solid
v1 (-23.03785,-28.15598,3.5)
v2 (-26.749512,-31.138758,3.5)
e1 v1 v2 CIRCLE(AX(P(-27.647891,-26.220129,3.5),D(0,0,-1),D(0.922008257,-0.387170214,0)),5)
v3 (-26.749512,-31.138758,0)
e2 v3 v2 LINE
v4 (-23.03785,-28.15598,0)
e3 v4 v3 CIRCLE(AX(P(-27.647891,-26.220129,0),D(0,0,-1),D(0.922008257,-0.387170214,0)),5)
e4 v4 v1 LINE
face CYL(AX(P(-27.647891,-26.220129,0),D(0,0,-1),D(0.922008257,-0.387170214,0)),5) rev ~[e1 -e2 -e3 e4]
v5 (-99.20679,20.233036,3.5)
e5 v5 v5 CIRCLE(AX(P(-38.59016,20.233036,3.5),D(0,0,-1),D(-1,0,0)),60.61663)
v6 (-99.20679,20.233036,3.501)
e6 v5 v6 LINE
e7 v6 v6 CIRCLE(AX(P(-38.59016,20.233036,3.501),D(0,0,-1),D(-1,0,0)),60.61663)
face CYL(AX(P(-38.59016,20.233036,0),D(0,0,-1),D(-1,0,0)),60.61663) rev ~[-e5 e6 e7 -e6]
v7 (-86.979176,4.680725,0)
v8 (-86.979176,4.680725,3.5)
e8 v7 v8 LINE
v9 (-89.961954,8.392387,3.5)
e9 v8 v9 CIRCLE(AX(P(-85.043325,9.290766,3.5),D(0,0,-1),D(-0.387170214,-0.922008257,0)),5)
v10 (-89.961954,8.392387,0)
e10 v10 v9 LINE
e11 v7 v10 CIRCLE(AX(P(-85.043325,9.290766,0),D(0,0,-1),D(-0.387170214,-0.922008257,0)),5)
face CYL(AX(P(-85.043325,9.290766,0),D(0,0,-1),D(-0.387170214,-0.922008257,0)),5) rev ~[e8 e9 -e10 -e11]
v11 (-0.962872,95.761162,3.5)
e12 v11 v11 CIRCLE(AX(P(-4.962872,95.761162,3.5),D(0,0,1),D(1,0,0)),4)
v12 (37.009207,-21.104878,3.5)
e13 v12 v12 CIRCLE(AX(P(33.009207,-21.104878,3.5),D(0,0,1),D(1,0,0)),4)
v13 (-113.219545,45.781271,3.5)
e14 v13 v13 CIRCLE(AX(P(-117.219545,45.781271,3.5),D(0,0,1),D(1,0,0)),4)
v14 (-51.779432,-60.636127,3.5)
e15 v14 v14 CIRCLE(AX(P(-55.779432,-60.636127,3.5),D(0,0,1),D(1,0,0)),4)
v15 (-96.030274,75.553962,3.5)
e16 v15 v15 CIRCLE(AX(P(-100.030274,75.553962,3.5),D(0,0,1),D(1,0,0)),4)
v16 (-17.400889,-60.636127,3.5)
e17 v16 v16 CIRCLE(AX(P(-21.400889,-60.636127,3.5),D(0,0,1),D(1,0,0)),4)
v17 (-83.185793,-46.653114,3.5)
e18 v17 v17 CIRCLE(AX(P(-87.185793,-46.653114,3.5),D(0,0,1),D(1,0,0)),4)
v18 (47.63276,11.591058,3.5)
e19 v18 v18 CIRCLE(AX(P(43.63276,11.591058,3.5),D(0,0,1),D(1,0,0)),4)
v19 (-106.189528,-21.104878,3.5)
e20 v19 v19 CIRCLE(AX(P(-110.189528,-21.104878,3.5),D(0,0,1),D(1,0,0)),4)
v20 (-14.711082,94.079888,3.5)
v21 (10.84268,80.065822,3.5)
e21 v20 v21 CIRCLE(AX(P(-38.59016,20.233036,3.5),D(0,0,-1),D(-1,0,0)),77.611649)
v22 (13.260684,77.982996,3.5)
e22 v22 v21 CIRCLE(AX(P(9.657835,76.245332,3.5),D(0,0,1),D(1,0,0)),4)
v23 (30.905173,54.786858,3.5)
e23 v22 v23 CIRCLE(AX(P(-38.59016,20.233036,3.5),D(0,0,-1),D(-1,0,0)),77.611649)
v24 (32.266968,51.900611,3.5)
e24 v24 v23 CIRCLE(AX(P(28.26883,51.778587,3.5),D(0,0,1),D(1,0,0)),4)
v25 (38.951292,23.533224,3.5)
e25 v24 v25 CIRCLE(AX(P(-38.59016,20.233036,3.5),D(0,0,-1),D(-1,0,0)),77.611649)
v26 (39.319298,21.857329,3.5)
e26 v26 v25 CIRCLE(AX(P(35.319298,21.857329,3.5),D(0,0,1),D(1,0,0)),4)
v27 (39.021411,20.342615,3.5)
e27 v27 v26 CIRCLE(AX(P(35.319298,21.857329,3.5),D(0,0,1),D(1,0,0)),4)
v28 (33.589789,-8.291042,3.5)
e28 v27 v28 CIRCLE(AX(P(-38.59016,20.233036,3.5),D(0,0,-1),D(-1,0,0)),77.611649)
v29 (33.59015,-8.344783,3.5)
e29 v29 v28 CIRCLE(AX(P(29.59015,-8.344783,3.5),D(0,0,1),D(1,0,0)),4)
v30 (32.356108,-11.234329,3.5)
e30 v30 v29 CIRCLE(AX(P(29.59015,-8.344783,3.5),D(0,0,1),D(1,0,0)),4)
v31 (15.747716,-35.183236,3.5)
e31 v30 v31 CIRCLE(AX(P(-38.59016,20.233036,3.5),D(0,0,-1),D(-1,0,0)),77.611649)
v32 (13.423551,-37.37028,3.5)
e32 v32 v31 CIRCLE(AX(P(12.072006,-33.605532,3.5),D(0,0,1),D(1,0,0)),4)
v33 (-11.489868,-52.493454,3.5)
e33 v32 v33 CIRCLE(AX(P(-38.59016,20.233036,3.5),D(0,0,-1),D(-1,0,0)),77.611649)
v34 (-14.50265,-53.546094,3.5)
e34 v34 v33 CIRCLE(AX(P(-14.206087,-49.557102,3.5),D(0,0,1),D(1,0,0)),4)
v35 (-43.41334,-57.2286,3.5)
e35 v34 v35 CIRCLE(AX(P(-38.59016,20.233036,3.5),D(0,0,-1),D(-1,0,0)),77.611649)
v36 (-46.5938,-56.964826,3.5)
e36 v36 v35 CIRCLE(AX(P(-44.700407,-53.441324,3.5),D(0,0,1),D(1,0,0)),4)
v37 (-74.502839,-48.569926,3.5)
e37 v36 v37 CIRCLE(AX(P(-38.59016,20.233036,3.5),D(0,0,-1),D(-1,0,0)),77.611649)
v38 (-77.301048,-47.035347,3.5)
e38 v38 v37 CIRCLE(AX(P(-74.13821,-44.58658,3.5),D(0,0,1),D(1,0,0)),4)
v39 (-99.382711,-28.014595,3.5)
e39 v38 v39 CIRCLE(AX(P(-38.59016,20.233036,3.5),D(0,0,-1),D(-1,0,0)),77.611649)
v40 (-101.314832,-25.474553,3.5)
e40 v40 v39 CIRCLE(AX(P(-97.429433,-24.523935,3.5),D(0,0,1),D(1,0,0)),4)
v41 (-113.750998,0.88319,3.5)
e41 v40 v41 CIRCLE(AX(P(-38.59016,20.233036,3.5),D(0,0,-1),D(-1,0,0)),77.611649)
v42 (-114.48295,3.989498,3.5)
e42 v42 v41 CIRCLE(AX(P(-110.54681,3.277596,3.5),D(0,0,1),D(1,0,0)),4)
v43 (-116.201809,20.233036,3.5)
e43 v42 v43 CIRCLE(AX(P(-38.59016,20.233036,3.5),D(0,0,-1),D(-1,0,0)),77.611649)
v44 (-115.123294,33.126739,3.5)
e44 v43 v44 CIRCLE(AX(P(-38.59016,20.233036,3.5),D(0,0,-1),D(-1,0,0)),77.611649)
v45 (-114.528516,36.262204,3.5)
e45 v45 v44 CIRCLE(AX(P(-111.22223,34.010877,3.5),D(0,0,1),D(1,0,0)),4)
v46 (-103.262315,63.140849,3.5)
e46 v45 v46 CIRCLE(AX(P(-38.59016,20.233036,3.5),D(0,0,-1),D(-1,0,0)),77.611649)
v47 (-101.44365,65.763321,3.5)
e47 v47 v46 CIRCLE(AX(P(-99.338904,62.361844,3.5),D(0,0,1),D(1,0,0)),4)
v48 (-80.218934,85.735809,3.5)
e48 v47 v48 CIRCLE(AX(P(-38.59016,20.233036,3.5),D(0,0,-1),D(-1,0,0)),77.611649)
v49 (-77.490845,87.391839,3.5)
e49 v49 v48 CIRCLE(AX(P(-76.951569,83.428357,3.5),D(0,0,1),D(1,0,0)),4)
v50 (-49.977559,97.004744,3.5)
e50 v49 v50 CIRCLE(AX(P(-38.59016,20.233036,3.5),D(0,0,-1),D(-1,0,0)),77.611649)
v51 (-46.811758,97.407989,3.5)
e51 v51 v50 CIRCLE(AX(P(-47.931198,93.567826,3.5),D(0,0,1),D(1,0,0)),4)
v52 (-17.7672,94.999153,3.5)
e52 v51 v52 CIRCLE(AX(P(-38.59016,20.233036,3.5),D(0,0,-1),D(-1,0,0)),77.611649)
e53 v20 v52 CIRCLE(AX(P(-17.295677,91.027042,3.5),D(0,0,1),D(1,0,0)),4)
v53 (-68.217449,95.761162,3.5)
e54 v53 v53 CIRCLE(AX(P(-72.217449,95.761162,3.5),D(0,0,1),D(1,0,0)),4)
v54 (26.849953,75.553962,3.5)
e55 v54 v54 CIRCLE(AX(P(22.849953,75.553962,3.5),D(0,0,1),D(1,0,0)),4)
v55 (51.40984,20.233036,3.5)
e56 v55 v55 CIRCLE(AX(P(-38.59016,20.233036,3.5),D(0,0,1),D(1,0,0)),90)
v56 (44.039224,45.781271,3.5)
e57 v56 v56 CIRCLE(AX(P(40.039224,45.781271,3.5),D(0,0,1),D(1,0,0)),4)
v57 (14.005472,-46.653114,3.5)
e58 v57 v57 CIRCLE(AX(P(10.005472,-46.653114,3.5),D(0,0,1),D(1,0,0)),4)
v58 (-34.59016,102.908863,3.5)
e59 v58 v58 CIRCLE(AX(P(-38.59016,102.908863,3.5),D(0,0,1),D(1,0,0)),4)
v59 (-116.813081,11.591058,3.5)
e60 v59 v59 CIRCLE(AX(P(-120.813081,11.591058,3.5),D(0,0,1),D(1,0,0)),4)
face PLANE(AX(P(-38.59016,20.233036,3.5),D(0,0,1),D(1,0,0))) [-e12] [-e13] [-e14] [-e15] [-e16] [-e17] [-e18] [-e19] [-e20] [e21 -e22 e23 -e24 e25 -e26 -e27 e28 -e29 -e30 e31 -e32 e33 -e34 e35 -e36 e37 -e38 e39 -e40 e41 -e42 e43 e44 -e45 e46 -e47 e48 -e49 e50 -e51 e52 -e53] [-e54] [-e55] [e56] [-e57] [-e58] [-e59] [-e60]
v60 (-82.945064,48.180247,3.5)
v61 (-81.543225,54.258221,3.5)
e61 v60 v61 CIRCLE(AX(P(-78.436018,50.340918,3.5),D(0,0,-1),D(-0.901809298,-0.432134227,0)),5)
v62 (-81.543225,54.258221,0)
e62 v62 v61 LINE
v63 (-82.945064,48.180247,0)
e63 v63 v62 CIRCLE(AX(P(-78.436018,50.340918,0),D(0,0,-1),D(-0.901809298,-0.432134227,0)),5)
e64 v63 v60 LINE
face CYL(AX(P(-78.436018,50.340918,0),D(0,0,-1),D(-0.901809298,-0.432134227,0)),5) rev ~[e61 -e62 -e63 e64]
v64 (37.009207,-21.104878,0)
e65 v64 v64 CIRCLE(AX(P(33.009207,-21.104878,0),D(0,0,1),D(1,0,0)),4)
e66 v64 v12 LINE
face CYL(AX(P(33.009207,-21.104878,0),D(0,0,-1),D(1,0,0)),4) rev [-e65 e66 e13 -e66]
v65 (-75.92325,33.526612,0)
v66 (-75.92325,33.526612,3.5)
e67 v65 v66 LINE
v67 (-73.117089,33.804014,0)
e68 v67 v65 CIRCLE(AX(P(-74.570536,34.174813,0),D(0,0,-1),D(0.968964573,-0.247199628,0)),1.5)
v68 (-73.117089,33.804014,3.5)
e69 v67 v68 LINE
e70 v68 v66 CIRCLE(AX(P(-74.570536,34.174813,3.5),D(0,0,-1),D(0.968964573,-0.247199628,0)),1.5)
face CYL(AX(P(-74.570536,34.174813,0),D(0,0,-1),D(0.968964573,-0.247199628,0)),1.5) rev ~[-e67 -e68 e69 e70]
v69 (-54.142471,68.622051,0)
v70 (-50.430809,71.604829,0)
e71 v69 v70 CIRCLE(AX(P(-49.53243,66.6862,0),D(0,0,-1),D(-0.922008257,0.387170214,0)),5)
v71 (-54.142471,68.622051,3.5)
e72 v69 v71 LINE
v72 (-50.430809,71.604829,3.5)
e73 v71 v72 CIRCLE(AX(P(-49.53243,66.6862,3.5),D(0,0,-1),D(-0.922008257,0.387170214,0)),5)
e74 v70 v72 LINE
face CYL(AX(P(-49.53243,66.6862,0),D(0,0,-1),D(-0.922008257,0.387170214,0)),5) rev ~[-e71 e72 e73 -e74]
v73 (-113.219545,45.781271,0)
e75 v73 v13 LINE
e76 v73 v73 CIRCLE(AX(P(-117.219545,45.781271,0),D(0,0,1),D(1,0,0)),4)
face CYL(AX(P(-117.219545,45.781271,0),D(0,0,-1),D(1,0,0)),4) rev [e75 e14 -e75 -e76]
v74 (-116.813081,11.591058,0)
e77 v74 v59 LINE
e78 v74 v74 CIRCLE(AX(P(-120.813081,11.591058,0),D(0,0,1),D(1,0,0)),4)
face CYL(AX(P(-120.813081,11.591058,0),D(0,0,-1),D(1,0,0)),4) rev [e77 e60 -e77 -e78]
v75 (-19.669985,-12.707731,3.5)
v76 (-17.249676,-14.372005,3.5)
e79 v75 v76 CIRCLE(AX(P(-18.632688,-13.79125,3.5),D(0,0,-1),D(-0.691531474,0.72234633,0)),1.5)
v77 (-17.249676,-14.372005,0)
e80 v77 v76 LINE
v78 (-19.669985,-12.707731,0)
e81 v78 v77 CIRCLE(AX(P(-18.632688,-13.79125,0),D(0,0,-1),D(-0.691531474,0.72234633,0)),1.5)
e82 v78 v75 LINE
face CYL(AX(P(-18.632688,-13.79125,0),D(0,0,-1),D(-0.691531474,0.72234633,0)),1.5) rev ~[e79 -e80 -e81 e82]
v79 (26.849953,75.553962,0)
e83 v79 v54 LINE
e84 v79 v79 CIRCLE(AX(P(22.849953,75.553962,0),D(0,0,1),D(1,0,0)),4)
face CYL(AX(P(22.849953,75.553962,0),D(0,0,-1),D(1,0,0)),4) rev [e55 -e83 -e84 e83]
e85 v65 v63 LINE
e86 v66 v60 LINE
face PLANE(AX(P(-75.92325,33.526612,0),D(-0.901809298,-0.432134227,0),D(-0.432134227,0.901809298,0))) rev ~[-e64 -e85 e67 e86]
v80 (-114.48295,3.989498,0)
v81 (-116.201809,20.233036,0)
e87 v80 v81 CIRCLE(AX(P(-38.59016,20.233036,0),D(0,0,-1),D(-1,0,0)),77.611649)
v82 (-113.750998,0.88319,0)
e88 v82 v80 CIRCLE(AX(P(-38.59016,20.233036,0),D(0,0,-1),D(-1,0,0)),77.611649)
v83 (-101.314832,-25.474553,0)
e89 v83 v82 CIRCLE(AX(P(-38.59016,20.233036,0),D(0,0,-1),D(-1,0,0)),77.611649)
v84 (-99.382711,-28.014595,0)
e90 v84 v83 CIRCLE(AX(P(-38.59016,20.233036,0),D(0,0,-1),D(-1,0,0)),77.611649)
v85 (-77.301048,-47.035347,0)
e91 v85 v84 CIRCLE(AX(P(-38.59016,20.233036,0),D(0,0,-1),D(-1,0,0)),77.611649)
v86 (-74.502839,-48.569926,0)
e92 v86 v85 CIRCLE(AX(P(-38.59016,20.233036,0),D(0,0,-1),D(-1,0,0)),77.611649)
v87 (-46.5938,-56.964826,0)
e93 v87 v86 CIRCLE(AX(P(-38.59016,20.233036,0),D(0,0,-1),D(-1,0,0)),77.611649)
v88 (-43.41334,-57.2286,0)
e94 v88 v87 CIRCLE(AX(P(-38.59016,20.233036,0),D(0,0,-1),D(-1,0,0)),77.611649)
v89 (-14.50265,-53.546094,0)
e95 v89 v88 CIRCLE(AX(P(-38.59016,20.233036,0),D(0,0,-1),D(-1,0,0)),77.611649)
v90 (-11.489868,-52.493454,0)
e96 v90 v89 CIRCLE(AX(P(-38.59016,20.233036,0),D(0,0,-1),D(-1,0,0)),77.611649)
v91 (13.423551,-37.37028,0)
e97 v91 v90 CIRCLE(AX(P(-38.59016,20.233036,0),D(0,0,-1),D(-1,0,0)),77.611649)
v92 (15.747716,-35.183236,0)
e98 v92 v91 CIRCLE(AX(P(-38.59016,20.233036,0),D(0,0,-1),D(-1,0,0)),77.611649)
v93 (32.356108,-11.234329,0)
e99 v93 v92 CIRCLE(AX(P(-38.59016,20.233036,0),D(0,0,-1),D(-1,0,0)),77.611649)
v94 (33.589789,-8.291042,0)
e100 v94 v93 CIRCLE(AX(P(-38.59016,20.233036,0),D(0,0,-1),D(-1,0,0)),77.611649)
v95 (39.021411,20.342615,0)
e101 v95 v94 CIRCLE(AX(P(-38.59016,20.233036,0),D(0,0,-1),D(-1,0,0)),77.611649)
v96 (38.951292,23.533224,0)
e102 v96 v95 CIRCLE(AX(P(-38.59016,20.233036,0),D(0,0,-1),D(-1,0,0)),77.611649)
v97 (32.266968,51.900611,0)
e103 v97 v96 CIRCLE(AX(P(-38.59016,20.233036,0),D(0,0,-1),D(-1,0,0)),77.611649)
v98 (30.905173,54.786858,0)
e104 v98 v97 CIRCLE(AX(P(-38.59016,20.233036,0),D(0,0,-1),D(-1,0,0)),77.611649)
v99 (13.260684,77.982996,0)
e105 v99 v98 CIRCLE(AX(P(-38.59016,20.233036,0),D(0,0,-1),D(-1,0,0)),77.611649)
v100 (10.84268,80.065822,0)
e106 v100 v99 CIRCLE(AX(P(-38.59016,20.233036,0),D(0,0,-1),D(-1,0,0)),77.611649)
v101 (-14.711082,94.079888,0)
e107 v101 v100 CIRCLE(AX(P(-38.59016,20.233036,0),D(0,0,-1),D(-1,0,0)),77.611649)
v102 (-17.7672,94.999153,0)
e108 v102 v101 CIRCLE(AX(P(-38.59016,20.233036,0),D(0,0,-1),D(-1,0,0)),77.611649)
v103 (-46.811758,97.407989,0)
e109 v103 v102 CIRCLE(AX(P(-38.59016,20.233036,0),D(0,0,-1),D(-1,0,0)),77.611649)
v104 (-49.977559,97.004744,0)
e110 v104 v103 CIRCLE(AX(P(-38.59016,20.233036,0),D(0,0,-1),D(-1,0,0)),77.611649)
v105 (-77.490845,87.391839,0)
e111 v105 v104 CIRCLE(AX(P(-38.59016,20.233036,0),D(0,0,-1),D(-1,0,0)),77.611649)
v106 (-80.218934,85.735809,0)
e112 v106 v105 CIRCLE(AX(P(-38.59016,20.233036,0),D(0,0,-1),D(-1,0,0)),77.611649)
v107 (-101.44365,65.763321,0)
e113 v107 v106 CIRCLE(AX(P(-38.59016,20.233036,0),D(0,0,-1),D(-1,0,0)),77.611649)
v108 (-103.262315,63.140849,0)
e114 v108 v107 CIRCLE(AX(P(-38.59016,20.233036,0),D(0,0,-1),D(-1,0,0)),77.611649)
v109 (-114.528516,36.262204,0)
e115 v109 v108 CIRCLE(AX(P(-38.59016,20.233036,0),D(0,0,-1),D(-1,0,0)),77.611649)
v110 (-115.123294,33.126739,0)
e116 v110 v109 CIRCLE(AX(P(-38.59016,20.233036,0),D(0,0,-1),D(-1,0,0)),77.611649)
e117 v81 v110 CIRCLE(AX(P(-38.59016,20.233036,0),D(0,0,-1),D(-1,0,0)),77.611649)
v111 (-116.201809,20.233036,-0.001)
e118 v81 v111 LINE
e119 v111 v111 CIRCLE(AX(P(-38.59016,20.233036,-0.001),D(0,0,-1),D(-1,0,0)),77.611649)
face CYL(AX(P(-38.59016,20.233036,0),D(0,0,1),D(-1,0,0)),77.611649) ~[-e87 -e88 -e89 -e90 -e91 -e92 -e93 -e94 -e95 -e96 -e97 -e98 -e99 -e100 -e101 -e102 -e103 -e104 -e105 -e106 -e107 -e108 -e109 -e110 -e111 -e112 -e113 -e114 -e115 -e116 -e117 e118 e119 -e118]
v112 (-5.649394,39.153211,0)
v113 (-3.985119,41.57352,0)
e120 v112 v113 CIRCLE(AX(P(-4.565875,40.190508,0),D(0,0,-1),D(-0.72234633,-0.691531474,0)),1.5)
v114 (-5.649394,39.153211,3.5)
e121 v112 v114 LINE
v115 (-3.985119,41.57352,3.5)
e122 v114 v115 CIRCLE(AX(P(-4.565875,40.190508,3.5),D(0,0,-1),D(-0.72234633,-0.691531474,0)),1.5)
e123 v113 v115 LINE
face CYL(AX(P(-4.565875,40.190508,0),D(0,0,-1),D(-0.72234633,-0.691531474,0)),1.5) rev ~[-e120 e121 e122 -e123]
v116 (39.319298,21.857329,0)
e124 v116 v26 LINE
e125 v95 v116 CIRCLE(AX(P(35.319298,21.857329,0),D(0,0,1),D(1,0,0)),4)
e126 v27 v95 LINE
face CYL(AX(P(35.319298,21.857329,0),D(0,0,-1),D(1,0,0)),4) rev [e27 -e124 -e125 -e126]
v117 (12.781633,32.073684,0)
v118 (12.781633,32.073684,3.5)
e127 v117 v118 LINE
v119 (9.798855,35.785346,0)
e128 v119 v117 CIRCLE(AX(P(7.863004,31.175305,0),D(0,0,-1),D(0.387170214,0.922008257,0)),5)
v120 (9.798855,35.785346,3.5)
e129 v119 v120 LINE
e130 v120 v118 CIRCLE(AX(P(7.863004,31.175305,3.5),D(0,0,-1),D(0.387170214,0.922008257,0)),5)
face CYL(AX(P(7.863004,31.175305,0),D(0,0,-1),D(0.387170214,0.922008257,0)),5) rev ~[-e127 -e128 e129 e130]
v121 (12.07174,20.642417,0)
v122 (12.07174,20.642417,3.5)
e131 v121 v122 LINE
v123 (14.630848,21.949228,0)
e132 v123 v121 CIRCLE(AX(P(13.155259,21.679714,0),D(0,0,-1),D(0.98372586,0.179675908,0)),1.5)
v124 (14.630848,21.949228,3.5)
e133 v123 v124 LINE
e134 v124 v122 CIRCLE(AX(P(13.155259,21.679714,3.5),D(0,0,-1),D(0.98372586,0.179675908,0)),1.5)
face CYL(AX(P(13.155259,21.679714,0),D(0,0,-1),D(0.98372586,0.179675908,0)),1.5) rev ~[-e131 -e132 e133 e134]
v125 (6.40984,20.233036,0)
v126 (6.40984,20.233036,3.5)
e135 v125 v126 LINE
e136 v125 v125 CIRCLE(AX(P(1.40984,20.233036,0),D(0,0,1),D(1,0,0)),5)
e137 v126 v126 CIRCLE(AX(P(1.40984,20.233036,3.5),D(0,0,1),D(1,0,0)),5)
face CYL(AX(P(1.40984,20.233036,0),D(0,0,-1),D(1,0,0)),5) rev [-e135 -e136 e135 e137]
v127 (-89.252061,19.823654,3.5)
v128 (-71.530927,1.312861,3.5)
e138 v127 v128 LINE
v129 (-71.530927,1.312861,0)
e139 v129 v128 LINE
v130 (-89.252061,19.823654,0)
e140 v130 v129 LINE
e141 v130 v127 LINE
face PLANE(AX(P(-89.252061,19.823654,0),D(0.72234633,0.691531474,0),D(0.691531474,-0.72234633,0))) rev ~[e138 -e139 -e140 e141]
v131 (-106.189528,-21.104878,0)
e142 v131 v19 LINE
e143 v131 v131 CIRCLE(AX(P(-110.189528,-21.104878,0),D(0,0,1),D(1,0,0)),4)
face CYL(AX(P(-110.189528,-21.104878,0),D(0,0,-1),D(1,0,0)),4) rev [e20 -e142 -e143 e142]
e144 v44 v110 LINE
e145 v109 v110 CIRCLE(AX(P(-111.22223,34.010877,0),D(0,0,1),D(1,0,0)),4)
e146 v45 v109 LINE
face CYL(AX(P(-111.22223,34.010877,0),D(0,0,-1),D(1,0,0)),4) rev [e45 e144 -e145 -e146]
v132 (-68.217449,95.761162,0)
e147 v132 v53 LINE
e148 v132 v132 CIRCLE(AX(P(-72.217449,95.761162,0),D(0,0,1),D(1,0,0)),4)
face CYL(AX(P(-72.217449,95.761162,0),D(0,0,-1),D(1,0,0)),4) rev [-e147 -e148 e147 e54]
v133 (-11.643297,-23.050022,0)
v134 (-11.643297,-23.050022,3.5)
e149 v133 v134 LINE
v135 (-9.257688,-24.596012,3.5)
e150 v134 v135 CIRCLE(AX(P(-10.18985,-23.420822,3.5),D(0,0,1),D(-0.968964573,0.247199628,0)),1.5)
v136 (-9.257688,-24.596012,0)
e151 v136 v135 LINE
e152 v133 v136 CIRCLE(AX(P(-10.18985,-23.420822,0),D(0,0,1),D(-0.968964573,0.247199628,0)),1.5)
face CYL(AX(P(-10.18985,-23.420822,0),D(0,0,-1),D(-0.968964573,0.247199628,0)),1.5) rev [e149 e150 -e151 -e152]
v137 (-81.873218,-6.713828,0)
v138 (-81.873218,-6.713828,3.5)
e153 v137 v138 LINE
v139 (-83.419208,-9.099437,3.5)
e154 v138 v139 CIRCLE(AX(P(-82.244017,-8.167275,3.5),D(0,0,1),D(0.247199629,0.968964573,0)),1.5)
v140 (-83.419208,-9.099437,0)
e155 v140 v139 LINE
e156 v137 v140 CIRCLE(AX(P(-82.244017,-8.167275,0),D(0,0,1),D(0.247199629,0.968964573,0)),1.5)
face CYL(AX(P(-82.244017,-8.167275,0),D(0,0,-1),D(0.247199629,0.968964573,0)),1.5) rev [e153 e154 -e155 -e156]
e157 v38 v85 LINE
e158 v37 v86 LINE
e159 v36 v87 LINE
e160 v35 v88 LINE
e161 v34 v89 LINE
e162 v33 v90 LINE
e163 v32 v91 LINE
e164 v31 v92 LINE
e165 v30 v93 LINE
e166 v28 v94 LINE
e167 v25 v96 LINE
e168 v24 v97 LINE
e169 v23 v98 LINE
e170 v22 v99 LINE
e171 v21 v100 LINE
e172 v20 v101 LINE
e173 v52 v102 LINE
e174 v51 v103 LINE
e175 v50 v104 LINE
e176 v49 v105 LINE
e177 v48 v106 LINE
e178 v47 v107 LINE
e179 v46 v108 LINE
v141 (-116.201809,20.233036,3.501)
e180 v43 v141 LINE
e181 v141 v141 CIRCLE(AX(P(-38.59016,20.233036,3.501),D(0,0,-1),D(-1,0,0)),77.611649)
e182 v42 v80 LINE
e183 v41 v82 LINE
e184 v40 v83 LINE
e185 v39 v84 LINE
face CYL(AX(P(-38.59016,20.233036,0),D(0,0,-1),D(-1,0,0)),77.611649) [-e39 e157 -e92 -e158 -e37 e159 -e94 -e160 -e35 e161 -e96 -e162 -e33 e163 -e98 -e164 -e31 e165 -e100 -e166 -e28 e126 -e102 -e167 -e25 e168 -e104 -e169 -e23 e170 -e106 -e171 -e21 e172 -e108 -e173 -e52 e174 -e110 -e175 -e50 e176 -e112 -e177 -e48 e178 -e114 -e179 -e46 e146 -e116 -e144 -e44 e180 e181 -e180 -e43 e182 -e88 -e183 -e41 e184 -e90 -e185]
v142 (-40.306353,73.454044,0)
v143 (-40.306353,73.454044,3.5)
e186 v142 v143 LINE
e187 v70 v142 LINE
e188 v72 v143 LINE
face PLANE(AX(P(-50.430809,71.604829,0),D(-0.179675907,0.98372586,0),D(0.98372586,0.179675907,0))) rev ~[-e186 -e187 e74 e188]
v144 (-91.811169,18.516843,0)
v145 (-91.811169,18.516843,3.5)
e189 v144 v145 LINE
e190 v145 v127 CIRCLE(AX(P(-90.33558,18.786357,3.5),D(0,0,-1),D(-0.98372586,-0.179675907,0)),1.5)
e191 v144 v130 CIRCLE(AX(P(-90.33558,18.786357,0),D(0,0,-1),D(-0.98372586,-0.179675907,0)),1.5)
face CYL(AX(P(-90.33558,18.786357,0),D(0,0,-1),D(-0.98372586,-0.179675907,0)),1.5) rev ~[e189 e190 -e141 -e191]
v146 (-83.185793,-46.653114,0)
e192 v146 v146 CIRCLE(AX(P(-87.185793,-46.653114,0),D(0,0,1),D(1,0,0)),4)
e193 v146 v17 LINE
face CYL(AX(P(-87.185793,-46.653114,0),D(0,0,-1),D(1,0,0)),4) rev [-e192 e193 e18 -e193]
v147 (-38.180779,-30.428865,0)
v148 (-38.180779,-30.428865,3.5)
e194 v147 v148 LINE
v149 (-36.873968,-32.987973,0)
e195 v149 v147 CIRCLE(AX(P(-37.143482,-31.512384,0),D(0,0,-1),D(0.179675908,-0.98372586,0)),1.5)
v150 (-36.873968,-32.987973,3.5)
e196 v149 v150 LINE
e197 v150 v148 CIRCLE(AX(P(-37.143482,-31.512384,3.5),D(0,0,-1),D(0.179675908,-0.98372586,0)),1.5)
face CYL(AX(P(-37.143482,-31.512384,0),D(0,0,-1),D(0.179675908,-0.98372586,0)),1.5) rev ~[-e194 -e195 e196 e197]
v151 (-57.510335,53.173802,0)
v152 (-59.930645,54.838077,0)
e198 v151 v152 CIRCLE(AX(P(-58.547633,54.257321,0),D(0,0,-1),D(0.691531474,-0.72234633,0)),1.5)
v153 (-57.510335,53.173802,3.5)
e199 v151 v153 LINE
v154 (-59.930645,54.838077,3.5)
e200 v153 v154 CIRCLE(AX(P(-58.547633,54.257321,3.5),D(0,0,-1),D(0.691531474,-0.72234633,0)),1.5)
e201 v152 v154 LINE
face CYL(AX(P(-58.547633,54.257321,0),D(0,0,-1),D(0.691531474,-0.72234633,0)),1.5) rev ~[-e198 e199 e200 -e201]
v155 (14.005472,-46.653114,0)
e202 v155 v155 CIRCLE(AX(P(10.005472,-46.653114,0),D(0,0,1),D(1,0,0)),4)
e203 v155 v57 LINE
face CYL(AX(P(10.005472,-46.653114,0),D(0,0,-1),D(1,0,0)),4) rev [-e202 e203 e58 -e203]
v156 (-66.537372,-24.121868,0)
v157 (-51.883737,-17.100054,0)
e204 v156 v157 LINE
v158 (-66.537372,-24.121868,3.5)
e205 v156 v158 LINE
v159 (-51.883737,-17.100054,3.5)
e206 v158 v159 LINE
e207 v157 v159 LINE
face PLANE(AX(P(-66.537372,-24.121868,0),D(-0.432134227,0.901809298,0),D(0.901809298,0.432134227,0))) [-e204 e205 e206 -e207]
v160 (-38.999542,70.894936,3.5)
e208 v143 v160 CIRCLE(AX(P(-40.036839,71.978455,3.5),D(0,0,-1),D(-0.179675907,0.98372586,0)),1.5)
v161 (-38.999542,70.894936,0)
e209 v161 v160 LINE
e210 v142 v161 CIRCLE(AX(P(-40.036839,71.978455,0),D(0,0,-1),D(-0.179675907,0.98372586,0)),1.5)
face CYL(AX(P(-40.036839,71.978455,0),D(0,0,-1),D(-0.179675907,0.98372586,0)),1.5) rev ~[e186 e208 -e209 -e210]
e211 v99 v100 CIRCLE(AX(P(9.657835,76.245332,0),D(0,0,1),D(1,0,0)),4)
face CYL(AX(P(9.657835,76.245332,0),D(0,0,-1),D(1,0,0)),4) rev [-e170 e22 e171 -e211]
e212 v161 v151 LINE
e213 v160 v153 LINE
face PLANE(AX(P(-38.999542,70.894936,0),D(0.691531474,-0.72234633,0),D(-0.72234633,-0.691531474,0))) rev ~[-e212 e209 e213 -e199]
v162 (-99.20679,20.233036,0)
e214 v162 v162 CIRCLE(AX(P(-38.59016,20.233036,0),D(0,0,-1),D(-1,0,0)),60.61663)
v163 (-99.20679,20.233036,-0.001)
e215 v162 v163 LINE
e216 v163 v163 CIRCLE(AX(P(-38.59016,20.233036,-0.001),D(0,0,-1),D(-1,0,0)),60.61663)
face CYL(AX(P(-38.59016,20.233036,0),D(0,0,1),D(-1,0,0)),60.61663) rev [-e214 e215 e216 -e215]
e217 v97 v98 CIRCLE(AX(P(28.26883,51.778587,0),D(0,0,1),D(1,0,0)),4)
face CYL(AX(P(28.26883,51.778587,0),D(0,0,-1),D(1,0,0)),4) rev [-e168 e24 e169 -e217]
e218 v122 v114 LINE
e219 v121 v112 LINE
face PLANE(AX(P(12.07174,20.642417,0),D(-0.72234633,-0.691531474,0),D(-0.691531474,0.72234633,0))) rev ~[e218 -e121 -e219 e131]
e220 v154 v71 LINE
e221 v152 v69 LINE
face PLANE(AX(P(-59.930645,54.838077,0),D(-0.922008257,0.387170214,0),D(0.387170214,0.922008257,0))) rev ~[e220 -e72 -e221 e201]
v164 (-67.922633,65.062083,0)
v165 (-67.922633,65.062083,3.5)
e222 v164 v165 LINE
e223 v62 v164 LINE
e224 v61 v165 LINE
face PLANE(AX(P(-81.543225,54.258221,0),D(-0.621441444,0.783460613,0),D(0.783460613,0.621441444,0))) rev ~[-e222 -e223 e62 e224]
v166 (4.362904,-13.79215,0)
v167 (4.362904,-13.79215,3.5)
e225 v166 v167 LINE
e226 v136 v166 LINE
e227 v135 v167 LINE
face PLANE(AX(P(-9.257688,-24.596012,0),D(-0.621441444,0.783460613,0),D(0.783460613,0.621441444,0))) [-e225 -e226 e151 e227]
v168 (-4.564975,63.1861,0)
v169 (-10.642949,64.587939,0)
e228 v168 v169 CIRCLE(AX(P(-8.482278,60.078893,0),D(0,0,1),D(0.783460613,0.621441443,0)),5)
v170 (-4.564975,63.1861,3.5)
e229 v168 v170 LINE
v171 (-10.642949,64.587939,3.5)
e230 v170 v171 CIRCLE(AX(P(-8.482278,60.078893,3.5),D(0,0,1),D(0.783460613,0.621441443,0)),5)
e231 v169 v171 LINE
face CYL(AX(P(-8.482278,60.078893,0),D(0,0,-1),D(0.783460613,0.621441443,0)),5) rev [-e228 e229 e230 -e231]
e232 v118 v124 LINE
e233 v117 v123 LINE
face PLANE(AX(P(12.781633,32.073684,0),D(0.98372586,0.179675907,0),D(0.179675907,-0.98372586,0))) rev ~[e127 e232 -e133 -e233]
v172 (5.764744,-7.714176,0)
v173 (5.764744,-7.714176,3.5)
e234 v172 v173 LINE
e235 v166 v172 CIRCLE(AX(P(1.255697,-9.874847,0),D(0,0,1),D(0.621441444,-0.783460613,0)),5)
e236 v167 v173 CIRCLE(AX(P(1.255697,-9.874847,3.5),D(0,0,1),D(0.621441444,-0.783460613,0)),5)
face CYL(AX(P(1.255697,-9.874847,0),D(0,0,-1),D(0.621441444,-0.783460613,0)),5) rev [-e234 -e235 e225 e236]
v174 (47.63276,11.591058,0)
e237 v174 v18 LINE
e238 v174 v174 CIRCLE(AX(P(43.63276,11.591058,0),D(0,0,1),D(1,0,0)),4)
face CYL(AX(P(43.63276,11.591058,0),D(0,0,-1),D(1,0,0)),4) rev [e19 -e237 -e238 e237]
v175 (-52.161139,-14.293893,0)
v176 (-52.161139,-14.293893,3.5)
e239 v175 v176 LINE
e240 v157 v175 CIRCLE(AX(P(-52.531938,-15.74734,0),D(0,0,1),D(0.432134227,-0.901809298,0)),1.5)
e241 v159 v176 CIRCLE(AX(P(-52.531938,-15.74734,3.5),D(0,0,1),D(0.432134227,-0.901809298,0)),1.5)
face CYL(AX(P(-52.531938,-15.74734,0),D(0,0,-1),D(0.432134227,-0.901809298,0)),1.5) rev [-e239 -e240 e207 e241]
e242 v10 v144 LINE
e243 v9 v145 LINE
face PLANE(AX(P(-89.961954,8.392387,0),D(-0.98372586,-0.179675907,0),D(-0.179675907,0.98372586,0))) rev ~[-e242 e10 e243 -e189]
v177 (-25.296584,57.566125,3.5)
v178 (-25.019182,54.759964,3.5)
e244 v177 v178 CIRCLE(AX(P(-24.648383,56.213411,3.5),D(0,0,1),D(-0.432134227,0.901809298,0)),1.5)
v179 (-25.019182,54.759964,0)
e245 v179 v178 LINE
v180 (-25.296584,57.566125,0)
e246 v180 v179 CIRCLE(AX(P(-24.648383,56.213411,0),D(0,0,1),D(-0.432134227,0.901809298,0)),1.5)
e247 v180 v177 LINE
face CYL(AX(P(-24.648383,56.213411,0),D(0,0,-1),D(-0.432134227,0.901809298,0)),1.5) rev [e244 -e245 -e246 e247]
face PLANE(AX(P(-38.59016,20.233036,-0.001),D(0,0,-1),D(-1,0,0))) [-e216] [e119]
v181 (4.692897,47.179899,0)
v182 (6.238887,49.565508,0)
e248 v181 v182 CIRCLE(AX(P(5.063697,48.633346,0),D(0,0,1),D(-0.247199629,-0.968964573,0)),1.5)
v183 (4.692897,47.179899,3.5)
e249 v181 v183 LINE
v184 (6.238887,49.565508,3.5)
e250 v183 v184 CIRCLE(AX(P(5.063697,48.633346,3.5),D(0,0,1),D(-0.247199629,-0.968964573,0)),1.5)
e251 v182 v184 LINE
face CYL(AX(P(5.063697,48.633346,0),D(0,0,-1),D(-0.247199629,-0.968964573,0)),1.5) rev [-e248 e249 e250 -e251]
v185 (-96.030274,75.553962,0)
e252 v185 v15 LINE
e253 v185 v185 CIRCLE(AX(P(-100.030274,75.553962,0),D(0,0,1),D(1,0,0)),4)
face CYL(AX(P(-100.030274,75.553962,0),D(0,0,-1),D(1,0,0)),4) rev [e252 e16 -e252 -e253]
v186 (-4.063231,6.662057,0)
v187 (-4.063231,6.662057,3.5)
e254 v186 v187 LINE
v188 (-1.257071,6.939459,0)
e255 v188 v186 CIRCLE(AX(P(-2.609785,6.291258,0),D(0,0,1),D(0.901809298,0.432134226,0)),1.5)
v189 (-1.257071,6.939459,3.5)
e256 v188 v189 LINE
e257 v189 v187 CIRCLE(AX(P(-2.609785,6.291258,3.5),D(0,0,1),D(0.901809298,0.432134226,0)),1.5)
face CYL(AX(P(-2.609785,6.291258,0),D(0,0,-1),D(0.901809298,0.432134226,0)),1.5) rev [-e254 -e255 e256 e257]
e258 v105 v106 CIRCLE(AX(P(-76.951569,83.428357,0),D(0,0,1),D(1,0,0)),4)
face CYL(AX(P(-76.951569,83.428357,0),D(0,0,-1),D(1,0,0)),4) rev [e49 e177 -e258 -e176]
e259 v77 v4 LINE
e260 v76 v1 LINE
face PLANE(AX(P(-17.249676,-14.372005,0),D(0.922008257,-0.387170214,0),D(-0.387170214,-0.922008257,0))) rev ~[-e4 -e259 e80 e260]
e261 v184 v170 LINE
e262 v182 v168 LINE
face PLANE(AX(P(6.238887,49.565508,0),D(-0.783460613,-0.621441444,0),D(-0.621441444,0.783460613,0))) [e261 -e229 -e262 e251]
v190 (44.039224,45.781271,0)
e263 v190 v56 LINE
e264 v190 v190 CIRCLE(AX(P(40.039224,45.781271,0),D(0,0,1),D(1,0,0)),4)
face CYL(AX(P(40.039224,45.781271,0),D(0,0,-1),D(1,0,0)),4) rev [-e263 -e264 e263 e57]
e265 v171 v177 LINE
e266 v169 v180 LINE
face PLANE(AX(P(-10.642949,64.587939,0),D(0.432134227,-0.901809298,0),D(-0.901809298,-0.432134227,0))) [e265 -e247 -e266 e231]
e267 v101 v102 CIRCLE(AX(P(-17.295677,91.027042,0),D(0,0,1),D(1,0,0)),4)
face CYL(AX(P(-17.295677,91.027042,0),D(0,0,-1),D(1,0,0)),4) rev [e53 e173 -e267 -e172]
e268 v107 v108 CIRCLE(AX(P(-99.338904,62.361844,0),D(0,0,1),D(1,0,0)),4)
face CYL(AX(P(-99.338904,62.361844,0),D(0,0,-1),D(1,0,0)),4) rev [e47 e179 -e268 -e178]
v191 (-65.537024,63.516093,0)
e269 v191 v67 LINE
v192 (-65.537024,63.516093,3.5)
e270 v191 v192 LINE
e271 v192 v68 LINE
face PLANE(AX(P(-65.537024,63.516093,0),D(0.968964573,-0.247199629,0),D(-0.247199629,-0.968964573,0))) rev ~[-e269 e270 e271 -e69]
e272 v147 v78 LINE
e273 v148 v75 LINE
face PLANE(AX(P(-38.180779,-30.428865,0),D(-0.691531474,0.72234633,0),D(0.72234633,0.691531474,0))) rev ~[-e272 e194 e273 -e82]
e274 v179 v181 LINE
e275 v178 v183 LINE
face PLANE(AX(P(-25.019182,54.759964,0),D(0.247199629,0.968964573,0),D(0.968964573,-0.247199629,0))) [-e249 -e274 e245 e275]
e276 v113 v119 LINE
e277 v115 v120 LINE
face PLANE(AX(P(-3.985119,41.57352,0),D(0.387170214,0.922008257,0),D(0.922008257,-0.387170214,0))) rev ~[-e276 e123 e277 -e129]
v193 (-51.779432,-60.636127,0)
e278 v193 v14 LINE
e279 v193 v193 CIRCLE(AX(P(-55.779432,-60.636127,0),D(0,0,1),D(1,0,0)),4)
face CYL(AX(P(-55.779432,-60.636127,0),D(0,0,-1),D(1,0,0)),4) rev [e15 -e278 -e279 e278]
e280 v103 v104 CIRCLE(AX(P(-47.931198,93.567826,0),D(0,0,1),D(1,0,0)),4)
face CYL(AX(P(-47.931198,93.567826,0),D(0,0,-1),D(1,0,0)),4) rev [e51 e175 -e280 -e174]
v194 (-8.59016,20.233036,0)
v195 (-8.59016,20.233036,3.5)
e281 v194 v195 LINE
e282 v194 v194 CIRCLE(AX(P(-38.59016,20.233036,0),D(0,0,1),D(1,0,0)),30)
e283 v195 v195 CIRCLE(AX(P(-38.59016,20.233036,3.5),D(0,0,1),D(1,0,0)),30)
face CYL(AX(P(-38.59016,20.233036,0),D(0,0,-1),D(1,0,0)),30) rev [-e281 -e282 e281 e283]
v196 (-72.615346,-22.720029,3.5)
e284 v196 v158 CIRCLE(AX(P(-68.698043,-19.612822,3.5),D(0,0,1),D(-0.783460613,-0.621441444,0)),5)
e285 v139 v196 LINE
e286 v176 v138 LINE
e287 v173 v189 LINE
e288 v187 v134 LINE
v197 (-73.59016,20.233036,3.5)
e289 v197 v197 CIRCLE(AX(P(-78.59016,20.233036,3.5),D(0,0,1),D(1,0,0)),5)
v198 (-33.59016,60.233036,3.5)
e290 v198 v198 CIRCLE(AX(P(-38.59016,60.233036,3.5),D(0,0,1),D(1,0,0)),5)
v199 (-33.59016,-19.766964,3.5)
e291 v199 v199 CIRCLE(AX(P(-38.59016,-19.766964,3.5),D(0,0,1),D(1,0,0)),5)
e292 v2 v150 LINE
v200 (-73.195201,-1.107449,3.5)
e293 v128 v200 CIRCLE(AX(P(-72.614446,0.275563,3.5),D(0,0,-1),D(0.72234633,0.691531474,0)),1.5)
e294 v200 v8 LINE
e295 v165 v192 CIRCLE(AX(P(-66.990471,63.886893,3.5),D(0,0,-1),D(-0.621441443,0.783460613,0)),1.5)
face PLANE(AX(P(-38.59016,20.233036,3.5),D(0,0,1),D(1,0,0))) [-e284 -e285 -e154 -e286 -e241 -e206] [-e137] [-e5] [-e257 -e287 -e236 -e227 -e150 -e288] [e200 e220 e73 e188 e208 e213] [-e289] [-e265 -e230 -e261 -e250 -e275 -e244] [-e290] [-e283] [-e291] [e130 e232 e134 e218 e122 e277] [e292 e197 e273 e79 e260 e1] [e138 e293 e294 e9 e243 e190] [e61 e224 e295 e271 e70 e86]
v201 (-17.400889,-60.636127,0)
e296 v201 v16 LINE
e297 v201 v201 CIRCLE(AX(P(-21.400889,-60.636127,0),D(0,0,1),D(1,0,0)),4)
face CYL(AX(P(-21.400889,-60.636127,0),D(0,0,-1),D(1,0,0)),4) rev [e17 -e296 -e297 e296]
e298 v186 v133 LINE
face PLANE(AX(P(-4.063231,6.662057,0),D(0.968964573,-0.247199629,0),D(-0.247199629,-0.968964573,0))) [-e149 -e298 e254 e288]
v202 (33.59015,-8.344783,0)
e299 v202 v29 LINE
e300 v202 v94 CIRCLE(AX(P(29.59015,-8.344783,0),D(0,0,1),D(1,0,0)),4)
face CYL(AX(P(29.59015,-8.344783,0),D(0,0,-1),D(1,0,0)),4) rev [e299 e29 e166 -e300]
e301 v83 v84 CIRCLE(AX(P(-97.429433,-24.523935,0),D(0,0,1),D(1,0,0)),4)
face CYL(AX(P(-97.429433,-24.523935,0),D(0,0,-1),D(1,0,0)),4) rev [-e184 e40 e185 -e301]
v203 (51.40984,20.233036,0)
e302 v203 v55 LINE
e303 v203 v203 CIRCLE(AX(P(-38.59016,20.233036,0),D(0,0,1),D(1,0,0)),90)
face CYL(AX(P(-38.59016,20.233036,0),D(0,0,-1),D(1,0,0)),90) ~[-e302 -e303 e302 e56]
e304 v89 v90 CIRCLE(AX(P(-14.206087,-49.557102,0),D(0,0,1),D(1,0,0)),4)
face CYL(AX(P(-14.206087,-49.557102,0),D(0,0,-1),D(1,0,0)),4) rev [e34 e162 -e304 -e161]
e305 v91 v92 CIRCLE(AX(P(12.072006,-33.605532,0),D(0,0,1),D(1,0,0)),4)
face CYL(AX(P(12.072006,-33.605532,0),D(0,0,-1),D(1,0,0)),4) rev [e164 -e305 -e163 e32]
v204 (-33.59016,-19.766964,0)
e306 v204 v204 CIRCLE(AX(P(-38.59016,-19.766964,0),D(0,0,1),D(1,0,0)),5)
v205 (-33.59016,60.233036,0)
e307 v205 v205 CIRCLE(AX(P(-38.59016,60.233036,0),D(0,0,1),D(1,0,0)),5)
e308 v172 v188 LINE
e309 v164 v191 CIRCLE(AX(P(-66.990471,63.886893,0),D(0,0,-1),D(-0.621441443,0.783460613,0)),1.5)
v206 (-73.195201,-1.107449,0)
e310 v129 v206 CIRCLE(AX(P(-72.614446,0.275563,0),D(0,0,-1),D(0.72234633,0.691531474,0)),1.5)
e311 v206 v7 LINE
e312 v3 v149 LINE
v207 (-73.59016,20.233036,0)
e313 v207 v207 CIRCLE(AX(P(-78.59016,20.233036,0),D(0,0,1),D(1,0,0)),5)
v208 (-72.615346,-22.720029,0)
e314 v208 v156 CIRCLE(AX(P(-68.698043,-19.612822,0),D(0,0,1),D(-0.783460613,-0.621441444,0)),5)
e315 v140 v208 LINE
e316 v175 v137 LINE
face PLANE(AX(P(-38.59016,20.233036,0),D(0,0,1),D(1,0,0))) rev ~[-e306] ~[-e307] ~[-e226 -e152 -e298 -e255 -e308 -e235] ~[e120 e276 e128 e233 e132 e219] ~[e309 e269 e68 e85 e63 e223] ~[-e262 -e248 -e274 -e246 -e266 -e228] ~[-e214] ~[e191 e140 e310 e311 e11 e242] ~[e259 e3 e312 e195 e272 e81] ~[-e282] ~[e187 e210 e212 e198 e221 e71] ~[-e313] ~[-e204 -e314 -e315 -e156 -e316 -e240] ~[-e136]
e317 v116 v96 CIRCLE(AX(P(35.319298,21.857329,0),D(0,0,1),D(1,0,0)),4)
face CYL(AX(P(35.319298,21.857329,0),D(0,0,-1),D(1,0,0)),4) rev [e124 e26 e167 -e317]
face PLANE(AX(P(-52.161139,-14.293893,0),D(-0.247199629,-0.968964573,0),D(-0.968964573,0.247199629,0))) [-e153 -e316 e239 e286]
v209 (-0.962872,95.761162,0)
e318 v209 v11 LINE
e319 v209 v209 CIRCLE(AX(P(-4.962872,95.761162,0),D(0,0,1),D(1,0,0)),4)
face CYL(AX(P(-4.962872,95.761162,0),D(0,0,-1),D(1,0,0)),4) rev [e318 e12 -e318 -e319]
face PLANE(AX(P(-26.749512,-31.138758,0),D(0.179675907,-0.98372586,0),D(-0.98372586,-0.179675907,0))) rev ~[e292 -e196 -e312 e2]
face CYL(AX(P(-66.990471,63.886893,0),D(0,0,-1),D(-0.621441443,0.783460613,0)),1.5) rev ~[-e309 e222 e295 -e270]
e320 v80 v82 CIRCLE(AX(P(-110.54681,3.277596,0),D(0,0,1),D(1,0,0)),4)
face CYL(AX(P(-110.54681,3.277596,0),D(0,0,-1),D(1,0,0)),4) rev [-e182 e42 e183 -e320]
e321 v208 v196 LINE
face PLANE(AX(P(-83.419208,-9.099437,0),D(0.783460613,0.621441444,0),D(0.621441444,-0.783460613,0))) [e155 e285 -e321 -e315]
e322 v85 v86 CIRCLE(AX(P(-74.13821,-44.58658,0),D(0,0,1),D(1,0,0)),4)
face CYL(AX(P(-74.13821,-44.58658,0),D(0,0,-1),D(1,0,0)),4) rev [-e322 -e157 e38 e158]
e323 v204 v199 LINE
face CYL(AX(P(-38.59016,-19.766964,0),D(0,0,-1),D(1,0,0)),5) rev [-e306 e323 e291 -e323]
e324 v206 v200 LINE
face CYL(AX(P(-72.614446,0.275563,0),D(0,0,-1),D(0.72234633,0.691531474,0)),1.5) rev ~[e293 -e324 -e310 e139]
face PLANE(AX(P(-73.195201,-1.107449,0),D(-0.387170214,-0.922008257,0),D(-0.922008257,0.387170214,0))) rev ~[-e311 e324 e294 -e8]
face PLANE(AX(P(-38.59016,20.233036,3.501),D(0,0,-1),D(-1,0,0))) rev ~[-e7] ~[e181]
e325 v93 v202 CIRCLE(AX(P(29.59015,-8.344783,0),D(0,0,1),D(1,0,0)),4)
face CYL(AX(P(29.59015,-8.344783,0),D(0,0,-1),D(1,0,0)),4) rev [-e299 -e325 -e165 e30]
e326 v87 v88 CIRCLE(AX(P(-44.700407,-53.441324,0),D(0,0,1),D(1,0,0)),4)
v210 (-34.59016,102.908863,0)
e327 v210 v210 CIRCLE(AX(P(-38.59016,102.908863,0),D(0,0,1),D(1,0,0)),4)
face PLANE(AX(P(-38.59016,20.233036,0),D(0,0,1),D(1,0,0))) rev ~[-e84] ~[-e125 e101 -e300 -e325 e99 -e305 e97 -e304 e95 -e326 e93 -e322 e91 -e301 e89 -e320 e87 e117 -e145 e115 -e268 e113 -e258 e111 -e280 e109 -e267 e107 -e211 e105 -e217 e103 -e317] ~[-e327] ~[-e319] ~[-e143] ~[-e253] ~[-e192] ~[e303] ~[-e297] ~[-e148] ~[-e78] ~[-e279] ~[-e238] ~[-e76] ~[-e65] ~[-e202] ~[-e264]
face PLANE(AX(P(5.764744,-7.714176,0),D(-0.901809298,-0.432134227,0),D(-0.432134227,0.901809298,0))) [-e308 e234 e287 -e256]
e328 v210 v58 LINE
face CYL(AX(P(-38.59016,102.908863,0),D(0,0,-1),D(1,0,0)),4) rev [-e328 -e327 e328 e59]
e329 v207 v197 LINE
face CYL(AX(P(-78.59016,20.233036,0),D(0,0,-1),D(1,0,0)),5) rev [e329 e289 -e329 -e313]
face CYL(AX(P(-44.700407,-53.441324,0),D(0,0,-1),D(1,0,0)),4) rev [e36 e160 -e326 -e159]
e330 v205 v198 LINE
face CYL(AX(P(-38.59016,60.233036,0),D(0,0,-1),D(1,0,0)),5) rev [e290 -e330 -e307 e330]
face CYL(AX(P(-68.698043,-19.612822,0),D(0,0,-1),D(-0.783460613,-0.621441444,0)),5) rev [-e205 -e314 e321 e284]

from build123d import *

# Parameters (mm, degrees)
SKETCH1_R                = 90
SKETCH1_R_2              = 30
SKETCH1_R_3              = 5
SKETCH1_R_4              = 4
SKETCH1_R_5              = 4.163878313
BOSS_EXTRUDE1_DEPTH      = 3.5
SKETCH3_R                = 77.611648898
SKETCH3_R_2              = 60.616629638
BOSS_EXTRUDE2_DEPTH      = 0.001
BOSS_EXTRUDE2_DEPTH_BACK = 3.501


with BuildPart() as part:
    # Sketch1 → Boss-Extrude1 (new body)
    with BuildSketch(Plane.XY):
        with Locations((-38.590160458, 20.233035518)):
            Circle(SKETCH1_R)
        with Locations((-38.590160458, 20.233035518)):
            Circle(SKETCH1_R_2, mode=Mode.SUBTRACT)
        with Locations((-38.590160458, 60.233035518)):
            Circle(SKETCH1_R_3, mode=Mode.SUBTRACT)
        with Locations((-78.590160458, 20.233035518)):
            Circle(SKETCH1_R_3, mode=Mode.SUBTRACT)
        with Locations((-38.590160458, -19.766964482)):
            Circle(SKETCH1_R_3, mode=Mode.SUBTRACT)
        with Locations((1.409839542, 20.233035518)):
            Circle(SKETCH1_R_3, mode=Mode.SUBTRACT)
        with Locations((-38.590160458, 102.908863271)):
            Circle(SKETCH1_R_4, mode=Mode.SUBTRACT)
        with Locations((-57.272235988, 84.226787741)):
            Circle(SKETCH1_R_5, mode=Mode.SUBTRACT)
        with Locations((-47.931198223, 93.567825506)):
            Circle(SKETCH1_R_4, mode=Mode.SUBTRACT)
        with Locations((-29.628481741, 86.292921865)):
            Circle(SKETCH1_R_5, mode=Mode.SUBTRACT)
        with Locations((-17.295676778, 91.027042142)):
            Circle(SKETCH1_R_4, mode=Mode.SUBTRACT)
        with Locations((-4.962871814, 95.761162419)):
            Circle(SKETCH1_R_4, mode=Mode.SUBTRACT)
        with Locations((-3.534283159, 76.936701505)):
            Circle(SKETCH1_R_5, mode=Mode.SUBTRACT)
        with Locations((9.657834985, 76.24533189)):
            Circle(SKETCH1_R_4, mode=Mode.SUBTRACT)
        with Locations((22.849953128, 75.553962274)):
            Circle(SKETCH1_R_4, mode=Mode.SUBTRACT)
        with Locations((16.498435766, 57.77590216)):
            Circle(SKETCH1_R_5, mode=Mode.SUBTRACT)
        with Locations((28.268830016, 51.778586739)):
            Circle(SKETCH1_R_4, mode=Mode.SUBTRACT)
        with Locations((40.039224266, 45.781271318)):
            Circle(SKETCH1_R_4, mode=Mode.SUBTRACT)
        with Locations((27.00583594, 32.123600105)):
            Circle(SKETCH1_R_5, mode=Mode.SUBTRACT)
        with Locations((35.3192982, 21.857329199)):
            Circle(SKETCH1_R_4, mode=Mode.SUBTRACT)
        with Locations((43.63276046, 11.591058294)):
            Circle(SKETCH1_R_4, mode=Mode.SUBTRACT)
        with Locations((26.171092415, 4.415311411)):
            Circle(SKETCH1_R_5, mode=Mode.SUBTRACT)
        with Locations((29.590149535, -8.344783474)):
            Circle(SKETCH1_R_4, mode=Mode.SUBTRACT)
        with Locations((33.009206655, -21.104878358)):
            Circle(SKETCH1_R_4, mode=Mode.SUBTRACT)
        with Locations((14.138539931, -20.557949085)):
            Circle(SKETCH1_R_5, mode=Mode.SUBTRACT)
        with Locations((12.072005874, -33.605531622)):
            Circle(SKETCH1_R_4, mode=Mode.SUBTRACT)
        with Locations((10.005471816, -46.653114158)):
            Circle(SKETCH1_R_4, mode=Mode.SUBTRACT)
        with Locations((-7.011283875, -38.478077769)):
            Circle(SKETCH1_R_5, mode=Mode.SUBTRACT)
        with Locations((-14.206086598, -49.557102403)):
            Circle(SKETCH1_R_4, mode=Mode.SUBTRACT)
        with Locations((-21.40088932, -60.636127037)):
            Circle(SKETCH1_R_4, mode=Mode.SUBTRACT)
        with Locations((-33.621382328, -46.246521592)):
            Circle(SKETCH1_R_5, mode=Mode.SUBTRACT)
        with Locations((-44.700406962, -53.441324315)):
            Circle(SKETCH1_R_4, mode=Mode.SUBTRACT)
        with Locations((-55.779431596, -60.636127037)):
            Circle(SKETCH1_R_4, mode=Mode.SUBTRACT)
        with Locations((-61.090627659, -42.520046043)):
            Circle(SKETCH1_R_5, mode=Mode.SUBTRACT)
        with Locations((-74.138210196, -44.5865801)):
            Circle(SKETCH1_R_4, mode=Mode.SUBTRACT)
        with Locations((-87.185792732, -46.653114158)):
            Circle(SKETCH1_R_4, mode=Mode.SUBTRACT)
        with Locations((-84.669337801, -27.942992598)):
            Circle(SKETCH1_R_5, mode=Mode.SUBTRACT)
        with Locations((-97.429432686, -24.523935478)):
            Circle(SKETCH1_R_4, mode=Mode.SUBTRACT)
        with Locations((-110.189527571, -21.104878358)):
            Circle(SKETCH1_R_4, mode=Mode.SUBTRACT)
        with Locations((-100.280539565, -5.035866226)):
            Circle(SKETCH1_R_5, mode=Mode.SUBTRACT)
        with Locations((-110.54681047, 3.277596034)):
            Circle(SKETCH1_R_4, mode=Mode.SUBTRACT)
        with Locations((-120.813081376, 11.591058294)):
            Circle(SKETCH1_R_4, mode=Mode.SUBTRACT)
        with Locations((-105.224914341, 22.240482818)):
            Circle(SKETCH1_R_5, mode=Mode.SUBTRACT)
        with Locations((-111.222229762, 34.010877068)):
            Circle(SKETCH1_R_4, mode=Mode.SUBTRACT)
        with Locations((-117.219545183, 45.781271318)):
            Circle(SKETCH1_R_4, mode=Mode.SUBTRACT)
        with Locations((-98.647534813, 49.169725987)):
            Circle(SKETCH1_R_5, mode=Mode.SUBTRACT)
        with Locations((-99.338904429, 62.36184413)):
            Circle(SKETCH1_R_4, mode=Mode.SUBTRACT)
        with Locations((-100.030274045, 75.553962274)):
            Circle(SKETCH1_R_4, mode=Mode.SUBTRACT)
        with Locations((-81.685689655, 71.095552492)):
            Circle(SKETCH1_R_5, mode=Mode.SUBTRACT)
        with Locations((-76.951569379, 83.428357455)):
            Circle(SKETCH1_R_4, mode=Mode.SUBTRACT)
        with Locations((-72.217449102, 95.761162419)):
            Circle(SKETCH1_R_4, mode=Mode.SUBTRACT)
        with BuildLine():
            Line((-75.923250233, 33.526611773), (-82.945064437, 48.18024702))
            ThreePointArc((-82.945064437, 48.18024702), (-83.308109154, 51.464629536), (-81.543225165, 54.258221219))
            Line((-81.543225165, 54.258221219), (-67.922632883, 65.062083457))
            ThreePointArc((-67.922632883, 65.062083457), (-66.174715863, 65.145679261), (-65.537023858, 63.516093095))
            Line((-65.537023858, 63.516093095), (-73.117089427, 33.80401367))
            ThreePointArc((-73.117089427, 33.80401367), (-74.422973645, 32.682089003), (-75.923250233, 33.526611773))
        make_face(mode=Mode.SUBTRACT)
        with BuildLine():
            Line((-25.019182306, 54.759964487), (4.692897118, 47.179898918))
            ThreePointArc((4.692897118, 47.179898918), (6.322483285, 47.817590922), (6.238887481, 49.565507943))
            Line((6.238887481, 49.565507943), (-4.564974758, 63.186100225))
            ThreePointArc((-4.564974758, 63.186100225), (-7.35856644, 64.950984214), (-10.642948957, 64.587939497))
            Line((-10.642948957, 64.587939497), (-25.296584204, 57.566125293))
            ThreePointArc((-25.296584204, 57.566125293), (-26.141106973, 56.065848705), (-25.019182306, 54.759964487))
        make_face(mode=Mode.SUBTRACT)
        with BuildLine():
            Line((-4.06323149, 6.662057366), (-11.643297059, -23.050022058))
            ThreePointArc((-11.643297059, -23.050022058), (-11.005605054, -24.679608225), (-9.257688034, -24.596012421))
            Line((-9.257688034, -24.596012421), (4.362904249, -13.792150183))
            ThreePointArc((4.362904249, -13.792150183), (6.127788237, -10.9985585), (5.764743521, -7.714175984))
            Line((5.764743521, -7.714175984), (-1.257070683, 6.939459263))
            ThreePointArc((-1.257070683, 6.939459263), (-2.757347272, 7.783982033), (-4.06323149, 6.662057366))
        make_face(mode=Mode.SUBTRACT)
        with BuildLine():
            Line((-52.16113861, -14.29389345), (-81.873218035, -6.713827882))
            ThreePointArc((-81.873218035, -6.713827882), (-83.502804202, -7.351519886), (-83.419208397, -9.099436907))
            Line((-83.419208397, -9.099436907), (-72.615346159, -22.720029189))
            ThreePointArc((-72.615346159, -22.720029189), (-69.821754476, -24.484913178), (-66.53737196, -24.121868461))
            Line((-66.53737196, -24.121868461), (-51.883736713, -17.100054257))
            ThreePointArc((-51.883736713, -17.100054257), (-51.039213944, -15.599777669), (-52.16113861, -14.29389345))
        make_face(mode=Mode.SUBTRACT)
        with BuildLine():
            Line((-50.430809264, 71.604828983), (-40.306353074, 73.454044222))
            ThreePointArc((-40.306353074, 73.454044222), (-38.700938161, 72.66063457), (-38.999542003, 70.894935936))
            Line((-38.999542003, 70.894935936), (-57.510335459, 53.1738017))
            ThreePointArc((-57.510335459, 53.1738017), (-59.397534082, 53.021332689), (-59.930645054, 54.838076517))
            Line((-59.930645054, 54.838076517), (-54.14247101, 68.622050752))
            ThreePointArc((-54.14247101, 68.622050752), (-52.664508346, 70.58364545), (-50.430809264, 71.604828983))
        make_face(mode=Mode.SUBTRACT)
        with BuildLine():
            Line((12.781633006, 32.073684324), (14.630848245, 21.949228134))
            ThreePointArc((14.630848245, 21.949228134), (13.837438594, 20.34381322), (12.07173996, 20.642417062))
            Line((12.07173996, 20.642417062), (-5.649394276, 39.153210519))
            ThreePointArc((-5.649394276, 39.153210519), (-5.801863288, 41.040409142), (-3.98511946, 41.573520114))
            Line((-3.98511946, 41.573520114), (9.798854776, 35.78534607))
            ThreePointArc((9.798854776, 35.78534607), (11.760449474, 34.307383406), (12.781633006, 32.073684324))
        make_face(mode=Mode.SUBTRACT)
        with BuildLine():
            Line((-26.749511652, -31.138757947), (-36.873967842, -32.987973185))
            ThreePointArc((-36.873967842, -32.987973185), (-38.479382756, -32.194563534), (-38.180778914, -30.4288649))
            Line((-38.180778914, -30.4288649), (-19.669985458, -12.707730664))
            ThreePointArc((-19.669985458, -12.707730664), (-17.782786834, -12.555261653), (-17.249675862, -14.372005481))
            Line((-17.249675862, -14.372005481), (-23.037849906, -28.155979716))
            ThreePointArc((-23.037849906, -28.155979716), (-24.51581257, -30.117574414), (-26.749511652, -31.138757947))
        make_face(mode=Mode.SUBTRACT)
        with BuildLine():
            Line((-89.961953923, 8.392386712), (-91.811169162, 18.516842902))
            ThreePointArc((-91.811169162, 18.516842902), (-91.01775951, 20.122257816), (-89.252060876, 19.823653974))
            Line((-89.252060876, 19.823653974), (-71.53092664, 1.312860518))
            ThreePointArc((-71.53092664, 1.312860518), (-71.378457629, -0.574338106), (-73.195201457, -1.107449078))
            Line((-73.195201457, -1.107449078), (-86.979175693, 4.680724966))
            ThreePointArc((-86.979175693, 4.680724966), (-88.940770391, 6.15868763), (-89.961953923, 8.392386712))
        make_face(mode=Mode.SUBTRACT)
    extrude(amount=BOSS_EXTRUDE1_DEPTH)

    # Sketch3 → Boss-Extrude2 (add, two sides)
    with BuildSketch(Plane(origin=(0, 0, 0), x_dir=(-1, 0, 0), z_dir=(0, 0, -1))) as boss_extrude2_sk:
        with Locations((38.590160458, 20.233035518)):
            Circle(SKETCH3_R)
        with Locations((38.590160458, 20.233035518)):
            Circle(SKETCH3_R_2, mode=Mode.SUBTRACT)
    extrude(amount=BOSS_EXTRUDE2_DEPTH)
    extrude(boss_extrude2_sk.sketch, amount=-BOSS_EXTRUDE2_DEPTH_BACK)


solid = part.part
